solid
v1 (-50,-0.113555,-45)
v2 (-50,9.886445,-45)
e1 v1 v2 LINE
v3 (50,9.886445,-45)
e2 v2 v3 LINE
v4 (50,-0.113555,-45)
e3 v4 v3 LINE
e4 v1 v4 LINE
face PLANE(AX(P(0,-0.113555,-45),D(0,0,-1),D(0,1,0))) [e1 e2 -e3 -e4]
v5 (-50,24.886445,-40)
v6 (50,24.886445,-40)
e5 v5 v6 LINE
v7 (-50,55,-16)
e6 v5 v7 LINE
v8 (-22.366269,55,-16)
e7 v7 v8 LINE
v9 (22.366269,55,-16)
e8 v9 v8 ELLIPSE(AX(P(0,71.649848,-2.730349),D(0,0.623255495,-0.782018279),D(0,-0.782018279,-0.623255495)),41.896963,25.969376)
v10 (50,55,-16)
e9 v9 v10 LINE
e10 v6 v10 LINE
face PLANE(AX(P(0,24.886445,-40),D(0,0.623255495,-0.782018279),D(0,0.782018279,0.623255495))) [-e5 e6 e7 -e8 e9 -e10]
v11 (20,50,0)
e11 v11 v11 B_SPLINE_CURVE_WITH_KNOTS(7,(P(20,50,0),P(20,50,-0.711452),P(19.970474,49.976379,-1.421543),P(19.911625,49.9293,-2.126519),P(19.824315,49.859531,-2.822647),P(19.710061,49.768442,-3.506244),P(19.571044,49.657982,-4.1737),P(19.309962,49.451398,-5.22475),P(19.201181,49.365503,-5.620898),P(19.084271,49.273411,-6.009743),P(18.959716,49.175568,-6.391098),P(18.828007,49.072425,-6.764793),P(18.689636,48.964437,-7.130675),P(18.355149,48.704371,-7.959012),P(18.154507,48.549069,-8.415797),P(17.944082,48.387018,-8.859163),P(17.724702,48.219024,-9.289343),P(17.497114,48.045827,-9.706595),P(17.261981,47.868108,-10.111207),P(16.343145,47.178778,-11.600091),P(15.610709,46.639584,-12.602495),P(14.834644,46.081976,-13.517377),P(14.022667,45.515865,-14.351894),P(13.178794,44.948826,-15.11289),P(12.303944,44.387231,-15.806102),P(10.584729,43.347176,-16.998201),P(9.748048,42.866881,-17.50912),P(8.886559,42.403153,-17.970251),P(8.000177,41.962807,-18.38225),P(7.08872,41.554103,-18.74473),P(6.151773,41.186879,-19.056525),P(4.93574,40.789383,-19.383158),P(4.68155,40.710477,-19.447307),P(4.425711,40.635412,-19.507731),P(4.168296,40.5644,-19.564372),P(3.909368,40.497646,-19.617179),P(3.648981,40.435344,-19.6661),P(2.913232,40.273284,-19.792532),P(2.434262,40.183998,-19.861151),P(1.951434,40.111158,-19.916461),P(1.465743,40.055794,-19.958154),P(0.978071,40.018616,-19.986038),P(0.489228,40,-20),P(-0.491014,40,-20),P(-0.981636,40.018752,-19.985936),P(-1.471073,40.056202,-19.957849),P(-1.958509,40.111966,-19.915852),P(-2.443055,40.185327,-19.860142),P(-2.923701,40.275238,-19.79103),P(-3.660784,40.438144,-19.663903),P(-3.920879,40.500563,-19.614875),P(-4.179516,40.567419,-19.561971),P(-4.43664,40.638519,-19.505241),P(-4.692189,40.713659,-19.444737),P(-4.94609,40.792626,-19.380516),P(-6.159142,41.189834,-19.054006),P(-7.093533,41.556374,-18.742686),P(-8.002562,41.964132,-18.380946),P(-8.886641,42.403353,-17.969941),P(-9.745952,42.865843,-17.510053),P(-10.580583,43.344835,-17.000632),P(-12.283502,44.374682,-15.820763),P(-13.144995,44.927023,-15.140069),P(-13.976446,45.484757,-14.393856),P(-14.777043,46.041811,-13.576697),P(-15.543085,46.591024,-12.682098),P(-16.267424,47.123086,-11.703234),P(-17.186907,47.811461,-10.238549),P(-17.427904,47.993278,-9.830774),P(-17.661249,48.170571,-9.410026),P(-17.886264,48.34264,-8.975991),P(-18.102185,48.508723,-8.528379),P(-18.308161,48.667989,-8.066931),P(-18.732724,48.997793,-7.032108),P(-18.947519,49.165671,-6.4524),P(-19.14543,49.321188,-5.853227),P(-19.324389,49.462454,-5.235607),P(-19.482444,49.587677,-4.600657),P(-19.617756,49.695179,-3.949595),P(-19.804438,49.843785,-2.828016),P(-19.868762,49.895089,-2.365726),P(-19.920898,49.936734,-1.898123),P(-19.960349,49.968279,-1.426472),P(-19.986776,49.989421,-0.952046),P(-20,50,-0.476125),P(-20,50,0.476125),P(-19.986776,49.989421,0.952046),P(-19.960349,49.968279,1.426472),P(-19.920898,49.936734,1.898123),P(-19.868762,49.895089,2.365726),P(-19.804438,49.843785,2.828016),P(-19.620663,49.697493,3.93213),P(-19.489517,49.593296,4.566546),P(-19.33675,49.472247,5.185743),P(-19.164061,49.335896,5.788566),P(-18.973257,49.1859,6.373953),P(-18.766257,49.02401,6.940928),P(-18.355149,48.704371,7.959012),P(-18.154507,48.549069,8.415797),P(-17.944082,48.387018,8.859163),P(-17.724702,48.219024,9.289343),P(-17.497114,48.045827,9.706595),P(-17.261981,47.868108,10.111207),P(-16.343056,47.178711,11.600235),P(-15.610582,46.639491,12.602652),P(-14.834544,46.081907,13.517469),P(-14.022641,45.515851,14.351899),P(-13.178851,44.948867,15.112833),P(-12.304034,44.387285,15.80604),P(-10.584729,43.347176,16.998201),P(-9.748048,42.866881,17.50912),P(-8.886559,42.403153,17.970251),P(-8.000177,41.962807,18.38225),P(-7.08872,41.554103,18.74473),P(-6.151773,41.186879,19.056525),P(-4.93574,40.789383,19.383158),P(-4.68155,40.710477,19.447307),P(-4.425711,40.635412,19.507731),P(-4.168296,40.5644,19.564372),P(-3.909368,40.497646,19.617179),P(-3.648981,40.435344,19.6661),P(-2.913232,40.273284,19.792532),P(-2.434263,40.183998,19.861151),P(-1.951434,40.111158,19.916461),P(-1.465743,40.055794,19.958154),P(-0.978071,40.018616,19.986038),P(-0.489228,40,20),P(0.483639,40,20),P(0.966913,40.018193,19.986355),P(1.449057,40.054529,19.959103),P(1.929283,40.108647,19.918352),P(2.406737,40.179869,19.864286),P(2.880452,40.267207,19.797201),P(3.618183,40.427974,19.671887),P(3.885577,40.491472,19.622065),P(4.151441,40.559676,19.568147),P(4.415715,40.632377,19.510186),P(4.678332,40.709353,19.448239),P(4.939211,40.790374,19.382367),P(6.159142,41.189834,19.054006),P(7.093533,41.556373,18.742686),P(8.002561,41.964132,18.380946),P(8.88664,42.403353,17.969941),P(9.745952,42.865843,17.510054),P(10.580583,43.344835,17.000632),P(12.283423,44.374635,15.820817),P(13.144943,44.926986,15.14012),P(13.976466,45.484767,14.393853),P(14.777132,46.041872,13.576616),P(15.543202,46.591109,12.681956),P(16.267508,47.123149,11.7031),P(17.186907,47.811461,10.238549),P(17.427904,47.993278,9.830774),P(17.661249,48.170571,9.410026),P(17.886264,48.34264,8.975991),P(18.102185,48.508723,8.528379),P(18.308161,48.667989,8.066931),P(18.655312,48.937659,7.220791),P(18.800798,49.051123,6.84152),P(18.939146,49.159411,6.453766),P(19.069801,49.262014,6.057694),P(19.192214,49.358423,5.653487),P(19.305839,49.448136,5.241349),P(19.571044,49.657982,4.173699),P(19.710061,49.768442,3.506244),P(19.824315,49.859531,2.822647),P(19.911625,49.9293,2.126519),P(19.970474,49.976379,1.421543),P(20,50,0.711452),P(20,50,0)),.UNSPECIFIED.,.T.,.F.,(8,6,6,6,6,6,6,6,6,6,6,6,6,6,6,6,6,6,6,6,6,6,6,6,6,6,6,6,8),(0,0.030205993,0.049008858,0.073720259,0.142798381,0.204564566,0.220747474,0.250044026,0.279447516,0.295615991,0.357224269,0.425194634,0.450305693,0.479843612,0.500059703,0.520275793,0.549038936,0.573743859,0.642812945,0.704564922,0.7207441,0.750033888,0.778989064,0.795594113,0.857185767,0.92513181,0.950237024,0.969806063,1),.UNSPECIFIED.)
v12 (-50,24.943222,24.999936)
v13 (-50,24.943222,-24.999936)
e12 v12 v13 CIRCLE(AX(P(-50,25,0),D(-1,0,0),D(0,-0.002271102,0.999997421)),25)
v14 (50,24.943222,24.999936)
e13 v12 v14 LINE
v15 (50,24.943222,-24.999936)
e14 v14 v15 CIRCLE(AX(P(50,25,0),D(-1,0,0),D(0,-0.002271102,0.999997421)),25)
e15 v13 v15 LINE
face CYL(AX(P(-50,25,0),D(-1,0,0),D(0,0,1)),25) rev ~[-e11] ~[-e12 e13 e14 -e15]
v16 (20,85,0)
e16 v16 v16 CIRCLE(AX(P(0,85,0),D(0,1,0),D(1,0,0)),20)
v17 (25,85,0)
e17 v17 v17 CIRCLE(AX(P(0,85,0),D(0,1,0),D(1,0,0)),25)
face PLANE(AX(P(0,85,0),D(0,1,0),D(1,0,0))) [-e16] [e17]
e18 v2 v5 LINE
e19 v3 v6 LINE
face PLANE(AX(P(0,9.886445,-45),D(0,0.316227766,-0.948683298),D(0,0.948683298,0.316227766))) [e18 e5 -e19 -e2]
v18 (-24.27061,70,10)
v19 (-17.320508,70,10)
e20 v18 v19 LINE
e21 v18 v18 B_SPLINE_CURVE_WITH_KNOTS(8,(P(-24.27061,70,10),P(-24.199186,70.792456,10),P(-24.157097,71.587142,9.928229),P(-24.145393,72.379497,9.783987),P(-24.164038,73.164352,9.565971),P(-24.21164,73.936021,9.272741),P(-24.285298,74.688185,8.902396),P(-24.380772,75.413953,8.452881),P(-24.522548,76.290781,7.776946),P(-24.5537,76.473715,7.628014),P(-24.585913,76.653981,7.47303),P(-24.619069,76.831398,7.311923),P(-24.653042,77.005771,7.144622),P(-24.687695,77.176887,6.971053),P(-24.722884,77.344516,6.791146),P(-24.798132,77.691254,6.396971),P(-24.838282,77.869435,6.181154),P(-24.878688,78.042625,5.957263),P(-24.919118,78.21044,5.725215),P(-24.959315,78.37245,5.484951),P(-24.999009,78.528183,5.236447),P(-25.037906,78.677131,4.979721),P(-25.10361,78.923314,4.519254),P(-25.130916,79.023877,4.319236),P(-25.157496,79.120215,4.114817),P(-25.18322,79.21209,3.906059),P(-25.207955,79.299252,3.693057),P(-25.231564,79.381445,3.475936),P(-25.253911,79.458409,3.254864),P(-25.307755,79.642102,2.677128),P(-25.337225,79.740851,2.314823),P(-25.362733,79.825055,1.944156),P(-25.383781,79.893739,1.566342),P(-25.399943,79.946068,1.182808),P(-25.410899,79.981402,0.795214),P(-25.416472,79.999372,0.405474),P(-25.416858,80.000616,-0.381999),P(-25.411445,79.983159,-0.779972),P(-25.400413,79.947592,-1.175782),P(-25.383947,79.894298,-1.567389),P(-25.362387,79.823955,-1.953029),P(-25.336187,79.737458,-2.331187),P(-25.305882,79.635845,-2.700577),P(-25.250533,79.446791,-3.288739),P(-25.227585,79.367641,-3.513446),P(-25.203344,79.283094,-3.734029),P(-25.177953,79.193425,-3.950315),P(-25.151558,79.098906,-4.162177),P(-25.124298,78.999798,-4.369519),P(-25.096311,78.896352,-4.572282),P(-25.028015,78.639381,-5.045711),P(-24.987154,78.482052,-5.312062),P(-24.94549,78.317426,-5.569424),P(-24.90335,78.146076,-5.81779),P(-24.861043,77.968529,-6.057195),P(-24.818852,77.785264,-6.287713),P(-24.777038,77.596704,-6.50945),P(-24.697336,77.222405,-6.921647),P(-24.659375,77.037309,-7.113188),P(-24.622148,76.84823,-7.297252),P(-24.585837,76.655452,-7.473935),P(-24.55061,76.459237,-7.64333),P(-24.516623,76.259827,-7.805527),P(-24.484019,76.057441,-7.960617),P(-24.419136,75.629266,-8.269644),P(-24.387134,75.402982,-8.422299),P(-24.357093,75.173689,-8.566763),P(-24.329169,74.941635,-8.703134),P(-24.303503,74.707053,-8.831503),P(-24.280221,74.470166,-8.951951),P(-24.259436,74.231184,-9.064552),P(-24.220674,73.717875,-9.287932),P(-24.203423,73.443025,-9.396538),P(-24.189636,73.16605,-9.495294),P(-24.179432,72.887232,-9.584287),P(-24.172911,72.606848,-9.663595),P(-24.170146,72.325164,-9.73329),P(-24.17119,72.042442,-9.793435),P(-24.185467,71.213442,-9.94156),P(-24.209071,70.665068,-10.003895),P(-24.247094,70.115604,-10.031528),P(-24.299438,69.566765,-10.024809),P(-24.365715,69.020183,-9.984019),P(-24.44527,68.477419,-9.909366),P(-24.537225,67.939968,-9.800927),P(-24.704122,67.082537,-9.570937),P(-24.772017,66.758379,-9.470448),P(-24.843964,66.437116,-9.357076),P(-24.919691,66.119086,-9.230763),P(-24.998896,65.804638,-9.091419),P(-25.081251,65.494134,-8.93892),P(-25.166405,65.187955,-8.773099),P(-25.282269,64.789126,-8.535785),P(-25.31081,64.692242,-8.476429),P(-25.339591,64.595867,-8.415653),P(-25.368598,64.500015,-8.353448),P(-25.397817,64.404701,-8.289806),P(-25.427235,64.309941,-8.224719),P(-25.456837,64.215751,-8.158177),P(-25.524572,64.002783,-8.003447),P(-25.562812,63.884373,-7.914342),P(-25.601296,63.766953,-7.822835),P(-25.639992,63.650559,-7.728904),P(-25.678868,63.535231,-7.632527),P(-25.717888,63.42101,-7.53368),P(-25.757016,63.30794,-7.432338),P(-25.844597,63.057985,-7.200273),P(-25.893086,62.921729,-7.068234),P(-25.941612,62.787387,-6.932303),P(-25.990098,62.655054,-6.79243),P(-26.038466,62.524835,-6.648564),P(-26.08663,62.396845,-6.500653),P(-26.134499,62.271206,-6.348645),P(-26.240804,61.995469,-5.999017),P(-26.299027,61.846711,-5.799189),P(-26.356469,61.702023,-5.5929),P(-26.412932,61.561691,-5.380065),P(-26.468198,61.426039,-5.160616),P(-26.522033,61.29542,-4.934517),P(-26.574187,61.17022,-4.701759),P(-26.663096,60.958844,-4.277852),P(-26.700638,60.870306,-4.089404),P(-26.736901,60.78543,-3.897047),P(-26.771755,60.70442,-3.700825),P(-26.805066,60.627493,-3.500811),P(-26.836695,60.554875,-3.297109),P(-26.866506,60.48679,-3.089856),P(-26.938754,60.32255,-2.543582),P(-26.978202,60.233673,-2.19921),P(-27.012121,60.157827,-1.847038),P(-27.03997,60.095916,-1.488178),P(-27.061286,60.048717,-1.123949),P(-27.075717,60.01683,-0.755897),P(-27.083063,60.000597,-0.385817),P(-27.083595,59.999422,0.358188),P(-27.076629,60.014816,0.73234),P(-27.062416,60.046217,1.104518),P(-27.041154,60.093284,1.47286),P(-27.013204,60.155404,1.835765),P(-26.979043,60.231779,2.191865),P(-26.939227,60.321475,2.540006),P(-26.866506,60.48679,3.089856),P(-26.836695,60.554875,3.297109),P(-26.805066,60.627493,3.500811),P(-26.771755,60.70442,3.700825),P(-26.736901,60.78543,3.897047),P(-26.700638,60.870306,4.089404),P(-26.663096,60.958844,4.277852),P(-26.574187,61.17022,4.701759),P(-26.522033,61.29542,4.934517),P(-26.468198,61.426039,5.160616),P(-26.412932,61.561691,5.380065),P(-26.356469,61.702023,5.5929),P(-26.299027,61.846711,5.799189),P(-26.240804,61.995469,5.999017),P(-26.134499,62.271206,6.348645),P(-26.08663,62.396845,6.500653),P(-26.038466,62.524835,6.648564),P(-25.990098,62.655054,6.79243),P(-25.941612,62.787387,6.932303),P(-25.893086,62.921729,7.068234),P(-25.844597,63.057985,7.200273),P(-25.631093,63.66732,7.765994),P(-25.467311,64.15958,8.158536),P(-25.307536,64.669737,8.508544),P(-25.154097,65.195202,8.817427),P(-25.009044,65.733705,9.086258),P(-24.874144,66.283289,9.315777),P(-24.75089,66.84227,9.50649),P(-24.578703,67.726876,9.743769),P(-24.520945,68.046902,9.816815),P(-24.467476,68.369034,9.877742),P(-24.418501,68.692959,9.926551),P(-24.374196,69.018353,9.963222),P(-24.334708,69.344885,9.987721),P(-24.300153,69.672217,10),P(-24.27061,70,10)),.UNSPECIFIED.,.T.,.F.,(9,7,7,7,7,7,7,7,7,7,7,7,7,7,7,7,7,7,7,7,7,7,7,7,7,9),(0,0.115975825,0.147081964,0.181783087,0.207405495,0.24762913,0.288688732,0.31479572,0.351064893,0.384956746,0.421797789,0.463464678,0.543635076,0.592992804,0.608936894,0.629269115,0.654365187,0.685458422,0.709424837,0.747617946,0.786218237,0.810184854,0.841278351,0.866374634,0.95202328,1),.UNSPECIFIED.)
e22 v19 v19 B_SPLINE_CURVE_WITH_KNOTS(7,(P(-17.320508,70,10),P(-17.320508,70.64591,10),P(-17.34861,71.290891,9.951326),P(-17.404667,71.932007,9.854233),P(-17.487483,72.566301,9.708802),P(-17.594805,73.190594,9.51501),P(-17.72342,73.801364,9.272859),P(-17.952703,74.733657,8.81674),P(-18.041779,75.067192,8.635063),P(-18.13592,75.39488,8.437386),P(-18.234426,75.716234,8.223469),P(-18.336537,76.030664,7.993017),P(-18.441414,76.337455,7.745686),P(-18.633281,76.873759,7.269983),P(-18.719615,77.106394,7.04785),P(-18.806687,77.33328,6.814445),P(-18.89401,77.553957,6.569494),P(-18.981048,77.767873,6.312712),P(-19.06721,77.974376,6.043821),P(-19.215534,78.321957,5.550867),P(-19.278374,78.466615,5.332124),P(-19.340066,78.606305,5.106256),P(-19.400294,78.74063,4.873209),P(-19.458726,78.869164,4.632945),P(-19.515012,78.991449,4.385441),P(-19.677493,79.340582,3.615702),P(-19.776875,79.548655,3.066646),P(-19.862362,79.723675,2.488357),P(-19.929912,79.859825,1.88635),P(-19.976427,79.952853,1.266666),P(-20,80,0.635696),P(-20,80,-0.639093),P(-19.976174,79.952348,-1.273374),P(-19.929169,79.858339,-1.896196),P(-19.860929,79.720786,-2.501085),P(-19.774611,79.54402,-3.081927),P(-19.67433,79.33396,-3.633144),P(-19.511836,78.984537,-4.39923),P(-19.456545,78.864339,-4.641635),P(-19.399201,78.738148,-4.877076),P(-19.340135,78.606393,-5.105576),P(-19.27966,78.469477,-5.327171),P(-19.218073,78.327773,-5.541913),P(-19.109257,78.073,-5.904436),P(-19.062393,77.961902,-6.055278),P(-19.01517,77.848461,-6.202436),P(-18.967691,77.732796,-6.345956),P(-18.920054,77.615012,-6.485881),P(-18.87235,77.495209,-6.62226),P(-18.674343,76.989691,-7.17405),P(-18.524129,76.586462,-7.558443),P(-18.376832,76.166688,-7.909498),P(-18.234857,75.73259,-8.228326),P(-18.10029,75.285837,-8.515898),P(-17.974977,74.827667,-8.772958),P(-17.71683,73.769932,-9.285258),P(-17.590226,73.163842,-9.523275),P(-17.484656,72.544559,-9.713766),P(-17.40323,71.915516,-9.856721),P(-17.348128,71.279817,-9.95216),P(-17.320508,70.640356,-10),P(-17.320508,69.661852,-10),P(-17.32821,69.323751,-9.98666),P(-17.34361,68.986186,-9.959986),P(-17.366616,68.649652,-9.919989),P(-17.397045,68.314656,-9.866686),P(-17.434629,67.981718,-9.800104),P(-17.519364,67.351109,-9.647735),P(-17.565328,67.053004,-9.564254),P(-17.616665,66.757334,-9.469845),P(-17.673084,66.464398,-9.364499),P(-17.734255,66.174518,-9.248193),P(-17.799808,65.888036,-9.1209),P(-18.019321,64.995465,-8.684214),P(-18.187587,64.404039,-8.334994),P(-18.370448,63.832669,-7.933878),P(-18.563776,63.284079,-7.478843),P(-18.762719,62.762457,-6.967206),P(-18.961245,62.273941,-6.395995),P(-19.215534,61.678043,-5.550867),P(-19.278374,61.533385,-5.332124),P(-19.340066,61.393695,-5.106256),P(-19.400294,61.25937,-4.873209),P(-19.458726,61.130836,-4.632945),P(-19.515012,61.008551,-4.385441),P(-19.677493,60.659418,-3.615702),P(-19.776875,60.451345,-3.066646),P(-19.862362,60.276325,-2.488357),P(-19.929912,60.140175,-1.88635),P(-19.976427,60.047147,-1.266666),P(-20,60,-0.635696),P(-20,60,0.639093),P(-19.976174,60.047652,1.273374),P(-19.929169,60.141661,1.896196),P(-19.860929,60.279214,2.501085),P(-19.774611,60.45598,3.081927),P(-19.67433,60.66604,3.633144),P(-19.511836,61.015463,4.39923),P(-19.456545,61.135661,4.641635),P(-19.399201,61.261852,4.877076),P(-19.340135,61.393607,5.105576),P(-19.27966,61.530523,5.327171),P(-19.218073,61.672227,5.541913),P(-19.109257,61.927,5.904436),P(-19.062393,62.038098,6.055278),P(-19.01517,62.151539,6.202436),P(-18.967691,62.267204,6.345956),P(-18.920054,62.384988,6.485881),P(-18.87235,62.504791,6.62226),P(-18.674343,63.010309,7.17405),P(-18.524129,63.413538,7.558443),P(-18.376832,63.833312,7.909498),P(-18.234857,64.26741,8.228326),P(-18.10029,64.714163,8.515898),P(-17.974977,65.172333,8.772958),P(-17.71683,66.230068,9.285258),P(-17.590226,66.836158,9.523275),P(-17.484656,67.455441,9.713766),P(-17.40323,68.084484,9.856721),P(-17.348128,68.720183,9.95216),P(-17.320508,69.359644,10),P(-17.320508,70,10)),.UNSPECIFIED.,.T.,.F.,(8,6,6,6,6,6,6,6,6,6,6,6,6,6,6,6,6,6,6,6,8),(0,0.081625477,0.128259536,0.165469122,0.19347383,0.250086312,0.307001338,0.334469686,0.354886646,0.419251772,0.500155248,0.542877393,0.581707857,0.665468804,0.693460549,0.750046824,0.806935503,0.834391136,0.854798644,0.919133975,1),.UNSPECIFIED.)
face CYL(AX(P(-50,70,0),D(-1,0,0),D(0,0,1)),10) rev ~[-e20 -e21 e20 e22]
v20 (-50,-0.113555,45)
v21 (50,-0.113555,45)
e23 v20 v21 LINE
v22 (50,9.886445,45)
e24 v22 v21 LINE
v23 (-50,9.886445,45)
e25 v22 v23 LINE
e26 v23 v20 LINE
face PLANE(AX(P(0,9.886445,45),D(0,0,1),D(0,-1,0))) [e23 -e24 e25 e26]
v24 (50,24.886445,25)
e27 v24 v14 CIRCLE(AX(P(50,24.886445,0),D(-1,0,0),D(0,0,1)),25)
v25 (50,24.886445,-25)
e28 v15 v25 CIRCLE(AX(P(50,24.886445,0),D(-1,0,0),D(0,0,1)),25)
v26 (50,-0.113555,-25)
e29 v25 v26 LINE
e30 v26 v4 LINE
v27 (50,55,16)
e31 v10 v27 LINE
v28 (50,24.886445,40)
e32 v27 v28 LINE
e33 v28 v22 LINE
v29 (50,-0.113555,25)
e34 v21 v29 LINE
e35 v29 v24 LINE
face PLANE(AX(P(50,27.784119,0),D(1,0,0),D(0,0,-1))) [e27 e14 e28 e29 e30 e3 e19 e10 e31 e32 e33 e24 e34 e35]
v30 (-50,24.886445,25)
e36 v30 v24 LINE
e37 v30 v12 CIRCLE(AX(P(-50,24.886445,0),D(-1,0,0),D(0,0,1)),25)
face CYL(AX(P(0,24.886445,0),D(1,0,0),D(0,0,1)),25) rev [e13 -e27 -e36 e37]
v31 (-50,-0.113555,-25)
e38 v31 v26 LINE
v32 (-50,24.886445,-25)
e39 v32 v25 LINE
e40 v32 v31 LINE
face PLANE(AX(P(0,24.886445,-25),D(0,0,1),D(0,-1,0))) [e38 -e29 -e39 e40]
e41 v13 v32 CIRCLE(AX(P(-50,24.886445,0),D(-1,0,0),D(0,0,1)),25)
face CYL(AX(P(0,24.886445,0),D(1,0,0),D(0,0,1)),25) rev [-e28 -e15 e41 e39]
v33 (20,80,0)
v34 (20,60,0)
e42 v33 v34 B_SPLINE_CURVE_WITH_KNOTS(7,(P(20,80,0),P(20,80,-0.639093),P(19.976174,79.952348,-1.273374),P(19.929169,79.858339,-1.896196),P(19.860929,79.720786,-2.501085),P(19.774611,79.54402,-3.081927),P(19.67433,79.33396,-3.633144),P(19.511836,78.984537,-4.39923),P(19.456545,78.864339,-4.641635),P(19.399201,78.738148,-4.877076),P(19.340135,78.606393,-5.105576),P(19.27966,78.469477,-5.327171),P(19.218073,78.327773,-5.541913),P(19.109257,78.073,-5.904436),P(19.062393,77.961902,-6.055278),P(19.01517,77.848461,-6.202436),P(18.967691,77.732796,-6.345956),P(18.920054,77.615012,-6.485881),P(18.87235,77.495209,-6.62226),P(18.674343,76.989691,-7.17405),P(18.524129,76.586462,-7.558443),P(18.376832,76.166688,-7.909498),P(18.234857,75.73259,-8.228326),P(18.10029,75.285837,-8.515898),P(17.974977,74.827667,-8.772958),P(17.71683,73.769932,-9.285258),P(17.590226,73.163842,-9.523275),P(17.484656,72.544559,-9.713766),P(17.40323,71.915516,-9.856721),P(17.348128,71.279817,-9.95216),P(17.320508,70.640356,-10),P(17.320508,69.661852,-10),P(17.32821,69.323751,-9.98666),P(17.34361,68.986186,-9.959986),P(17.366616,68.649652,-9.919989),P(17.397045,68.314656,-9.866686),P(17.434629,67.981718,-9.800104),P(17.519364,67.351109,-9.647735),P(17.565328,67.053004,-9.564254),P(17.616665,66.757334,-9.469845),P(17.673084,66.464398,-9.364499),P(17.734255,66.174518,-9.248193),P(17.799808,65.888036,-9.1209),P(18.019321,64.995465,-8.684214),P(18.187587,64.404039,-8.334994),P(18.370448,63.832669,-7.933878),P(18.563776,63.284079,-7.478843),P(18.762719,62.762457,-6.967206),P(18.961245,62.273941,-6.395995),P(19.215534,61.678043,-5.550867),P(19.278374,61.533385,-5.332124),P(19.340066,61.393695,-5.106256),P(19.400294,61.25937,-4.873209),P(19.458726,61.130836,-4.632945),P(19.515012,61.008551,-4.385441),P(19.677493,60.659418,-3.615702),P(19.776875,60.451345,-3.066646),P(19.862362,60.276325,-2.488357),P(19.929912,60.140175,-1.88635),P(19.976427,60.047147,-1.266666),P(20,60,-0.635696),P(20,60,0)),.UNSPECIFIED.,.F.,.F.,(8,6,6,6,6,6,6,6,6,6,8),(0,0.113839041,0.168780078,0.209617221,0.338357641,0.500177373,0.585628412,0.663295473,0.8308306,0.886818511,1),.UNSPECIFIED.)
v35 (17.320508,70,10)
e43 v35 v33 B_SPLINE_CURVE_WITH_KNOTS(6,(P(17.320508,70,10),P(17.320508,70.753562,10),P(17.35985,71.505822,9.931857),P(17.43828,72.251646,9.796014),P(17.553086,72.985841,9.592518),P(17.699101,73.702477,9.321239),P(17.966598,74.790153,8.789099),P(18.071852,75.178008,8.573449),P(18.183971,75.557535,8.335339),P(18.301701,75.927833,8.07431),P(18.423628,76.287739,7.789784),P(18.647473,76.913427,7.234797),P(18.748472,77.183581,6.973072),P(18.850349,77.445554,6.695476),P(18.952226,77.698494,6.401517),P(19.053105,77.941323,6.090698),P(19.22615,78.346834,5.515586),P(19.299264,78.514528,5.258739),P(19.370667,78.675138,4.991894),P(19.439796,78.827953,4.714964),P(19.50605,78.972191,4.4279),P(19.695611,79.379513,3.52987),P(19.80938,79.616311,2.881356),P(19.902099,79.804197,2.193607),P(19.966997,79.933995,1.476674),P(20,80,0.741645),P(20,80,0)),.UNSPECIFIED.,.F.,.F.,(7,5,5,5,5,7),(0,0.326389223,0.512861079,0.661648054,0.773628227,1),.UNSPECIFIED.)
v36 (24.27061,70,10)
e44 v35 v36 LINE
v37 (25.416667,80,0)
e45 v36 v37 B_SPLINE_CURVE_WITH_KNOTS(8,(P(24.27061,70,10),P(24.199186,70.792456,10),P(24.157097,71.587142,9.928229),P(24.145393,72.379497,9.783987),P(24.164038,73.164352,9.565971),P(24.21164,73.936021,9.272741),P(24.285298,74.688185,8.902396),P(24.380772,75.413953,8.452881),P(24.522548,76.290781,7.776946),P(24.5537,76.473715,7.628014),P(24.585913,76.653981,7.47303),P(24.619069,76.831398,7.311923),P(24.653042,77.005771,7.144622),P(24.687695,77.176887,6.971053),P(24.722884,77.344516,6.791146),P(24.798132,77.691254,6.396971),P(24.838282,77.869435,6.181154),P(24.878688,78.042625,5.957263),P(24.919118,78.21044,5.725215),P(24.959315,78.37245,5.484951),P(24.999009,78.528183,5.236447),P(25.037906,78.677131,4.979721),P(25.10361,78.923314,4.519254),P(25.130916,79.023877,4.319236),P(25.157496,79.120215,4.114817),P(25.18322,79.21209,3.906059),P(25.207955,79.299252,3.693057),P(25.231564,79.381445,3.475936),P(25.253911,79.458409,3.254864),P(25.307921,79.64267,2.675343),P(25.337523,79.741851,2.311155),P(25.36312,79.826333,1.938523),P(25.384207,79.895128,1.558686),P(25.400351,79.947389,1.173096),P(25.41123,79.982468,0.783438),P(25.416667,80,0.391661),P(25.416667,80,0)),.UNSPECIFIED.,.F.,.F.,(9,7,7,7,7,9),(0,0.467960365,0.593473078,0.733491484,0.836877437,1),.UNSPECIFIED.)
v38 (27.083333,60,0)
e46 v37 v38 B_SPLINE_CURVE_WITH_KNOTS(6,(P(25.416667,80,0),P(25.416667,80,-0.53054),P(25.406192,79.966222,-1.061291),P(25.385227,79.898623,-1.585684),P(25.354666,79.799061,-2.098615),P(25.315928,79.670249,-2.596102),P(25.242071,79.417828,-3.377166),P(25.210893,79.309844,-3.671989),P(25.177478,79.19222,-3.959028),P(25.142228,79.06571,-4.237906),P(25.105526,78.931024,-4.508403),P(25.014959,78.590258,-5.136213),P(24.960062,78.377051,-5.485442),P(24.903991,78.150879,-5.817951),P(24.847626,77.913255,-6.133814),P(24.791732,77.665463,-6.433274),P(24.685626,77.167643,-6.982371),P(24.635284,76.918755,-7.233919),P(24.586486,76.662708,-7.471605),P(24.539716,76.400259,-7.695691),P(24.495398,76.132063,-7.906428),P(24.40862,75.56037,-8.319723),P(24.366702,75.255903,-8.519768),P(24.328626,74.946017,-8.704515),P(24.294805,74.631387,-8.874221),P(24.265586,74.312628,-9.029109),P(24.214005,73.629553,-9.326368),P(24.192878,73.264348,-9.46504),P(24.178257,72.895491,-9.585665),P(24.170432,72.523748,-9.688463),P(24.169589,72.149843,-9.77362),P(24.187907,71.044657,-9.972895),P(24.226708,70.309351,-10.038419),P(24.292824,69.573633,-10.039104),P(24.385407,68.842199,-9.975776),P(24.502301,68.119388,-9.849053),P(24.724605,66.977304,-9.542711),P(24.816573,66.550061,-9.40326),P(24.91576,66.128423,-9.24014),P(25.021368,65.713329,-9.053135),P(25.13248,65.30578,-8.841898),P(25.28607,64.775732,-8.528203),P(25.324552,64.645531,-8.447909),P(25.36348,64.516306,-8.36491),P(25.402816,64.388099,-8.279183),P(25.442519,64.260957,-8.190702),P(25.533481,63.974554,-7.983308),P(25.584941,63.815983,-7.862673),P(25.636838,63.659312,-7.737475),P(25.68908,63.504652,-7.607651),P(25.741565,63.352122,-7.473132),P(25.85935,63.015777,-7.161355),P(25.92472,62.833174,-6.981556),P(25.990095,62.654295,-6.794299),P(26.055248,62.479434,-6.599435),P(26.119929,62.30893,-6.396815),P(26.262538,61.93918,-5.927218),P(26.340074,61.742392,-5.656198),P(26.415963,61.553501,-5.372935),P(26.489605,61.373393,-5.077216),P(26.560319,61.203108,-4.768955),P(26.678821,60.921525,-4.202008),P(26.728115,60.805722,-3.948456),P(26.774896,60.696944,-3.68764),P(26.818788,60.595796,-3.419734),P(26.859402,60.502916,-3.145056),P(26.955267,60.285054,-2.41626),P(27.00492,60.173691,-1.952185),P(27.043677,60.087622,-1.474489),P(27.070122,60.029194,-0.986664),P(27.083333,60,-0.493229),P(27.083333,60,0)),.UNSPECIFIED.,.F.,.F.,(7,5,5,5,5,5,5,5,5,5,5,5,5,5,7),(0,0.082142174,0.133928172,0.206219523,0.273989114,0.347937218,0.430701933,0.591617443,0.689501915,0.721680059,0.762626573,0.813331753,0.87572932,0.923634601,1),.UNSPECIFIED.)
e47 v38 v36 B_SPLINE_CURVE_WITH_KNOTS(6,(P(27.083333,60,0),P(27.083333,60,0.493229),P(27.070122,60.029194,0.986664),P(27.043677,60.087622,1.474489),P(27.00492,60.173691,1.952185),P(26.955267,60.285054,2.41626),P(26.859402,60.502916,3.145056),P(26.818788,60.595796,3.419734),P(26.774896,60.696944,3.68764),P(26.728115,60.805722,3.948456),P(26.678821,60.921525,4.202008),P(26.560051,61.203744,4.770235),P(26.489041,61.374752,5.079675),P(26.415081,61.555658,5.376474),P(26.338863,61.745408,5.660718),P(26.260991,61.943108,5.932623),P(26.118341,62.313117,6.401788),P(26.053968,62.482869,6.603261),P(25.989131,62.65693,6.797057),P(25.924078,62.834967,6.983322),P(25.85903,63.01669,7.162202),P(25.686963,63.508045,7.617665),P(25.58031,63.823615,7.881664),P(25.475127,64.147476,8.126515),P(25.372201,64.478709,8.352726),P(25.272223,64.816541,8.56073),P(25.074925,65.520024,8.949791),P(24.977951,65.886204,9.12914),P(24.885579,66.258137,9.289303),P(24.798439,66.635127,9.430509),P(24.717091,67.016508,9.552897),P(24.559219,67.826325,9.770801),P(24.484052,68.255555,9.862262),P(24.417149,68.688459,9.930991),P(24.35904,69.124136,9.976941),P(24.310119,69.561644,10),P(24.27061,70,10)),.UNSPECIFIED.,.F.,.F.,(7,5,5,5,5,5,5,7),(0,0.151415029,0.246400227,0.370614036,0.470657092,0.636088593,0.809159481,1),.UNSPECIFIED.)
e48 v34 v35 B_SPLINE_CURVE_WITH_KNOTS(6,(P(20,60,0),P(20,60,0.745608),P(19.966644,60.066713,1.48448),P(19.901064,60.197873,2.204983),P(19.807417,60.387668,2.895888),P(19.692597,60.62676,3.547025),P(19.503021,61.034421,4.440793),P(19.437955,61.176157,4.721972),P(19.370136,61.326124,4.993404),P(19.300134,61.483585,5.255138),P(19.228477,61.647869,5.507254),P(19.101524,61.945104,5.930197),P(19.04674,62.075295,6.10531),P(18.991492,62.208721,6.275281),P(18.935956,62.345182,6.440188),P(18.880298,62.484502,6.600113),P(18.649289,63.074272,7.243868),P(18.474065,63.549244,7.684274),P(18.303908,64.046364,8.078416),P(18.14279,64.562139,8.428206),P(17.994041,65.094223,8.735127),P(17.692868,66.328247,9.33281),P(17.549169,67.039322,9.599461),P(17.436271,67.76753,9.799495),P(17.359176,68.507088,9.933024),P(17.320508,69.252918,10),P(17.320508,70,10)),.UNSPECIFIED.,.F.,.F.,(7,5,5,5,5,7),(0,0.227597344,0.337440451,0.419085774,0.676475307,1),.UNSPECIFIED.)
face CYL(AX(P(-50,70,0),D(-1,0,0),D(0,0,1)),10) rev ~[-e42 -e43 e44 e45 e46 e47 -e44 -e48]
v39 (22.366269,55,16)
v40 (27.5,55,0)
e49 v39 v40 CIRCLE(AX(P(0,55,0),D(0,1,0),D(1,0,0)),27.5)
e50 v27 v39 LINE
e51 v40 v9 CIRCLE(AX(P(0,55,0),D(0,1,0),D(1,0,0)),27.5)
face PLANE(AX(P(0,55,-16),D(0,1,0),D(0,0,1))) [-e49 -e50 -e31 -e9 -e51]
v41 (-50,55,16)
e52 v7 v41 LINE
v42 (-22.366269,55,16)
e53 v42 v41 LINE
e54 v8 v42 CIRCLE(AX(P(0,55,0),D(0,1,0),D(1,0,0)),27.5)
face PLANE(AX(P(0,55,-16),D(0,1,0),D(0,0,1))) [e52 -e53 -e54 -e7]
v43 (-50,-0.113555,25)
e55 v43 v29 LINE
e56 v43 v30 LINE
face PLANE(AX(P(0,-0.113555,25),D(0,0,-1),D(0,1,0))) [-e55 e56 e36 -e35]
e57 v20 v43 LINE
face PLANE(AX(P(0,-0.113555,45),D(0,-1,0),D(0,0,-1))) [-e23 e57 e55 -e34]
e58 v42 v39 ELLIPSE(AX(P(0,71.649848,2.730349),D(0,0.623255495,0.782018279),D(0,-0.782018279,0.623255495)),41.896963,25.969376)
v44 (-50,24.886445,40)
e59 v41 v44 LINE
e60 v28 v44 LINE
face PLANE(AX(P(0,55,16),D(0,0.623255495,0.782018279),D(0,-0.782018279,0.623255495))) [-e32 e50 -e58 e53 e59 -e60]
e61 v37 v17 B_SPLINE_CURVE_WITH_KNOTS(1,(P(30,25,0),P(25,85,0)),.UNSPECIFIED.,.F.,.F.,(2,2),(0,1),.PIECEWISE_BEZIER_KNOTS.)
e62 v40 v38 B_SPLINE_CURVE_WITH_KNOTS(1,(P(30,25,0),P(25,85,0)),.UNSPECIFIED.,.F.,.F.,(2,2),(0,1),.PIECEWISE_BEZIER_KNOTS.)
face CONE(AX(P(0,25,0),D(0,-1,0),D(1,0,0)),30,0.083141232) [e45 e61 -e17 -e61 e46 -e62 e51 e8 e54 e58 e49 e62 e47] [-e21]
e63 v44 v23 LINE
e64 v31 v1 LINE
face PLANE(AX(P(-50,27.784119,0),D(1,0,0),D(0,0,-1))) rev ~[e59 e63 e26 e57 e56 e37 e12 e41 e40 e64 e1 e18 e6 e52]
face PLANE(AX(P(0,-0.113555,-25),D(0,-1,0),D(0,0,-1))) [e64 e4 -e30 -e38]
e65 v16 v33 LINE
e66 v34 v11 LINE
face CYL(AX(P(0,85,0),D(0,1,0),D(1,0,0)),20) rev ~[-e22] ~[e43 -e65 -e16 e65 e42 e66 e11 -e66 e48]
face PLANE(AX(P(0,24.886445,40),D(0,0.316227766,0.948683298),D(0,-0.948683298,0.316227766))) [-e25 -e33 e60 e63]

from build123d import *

# Parameters (mm, degrees)
EXTRUDE_1_DEPTH      = 50
EXTRUDE_1_DEPTH_BACK = 50
SKETCH_3_R           = 30
SKETCH_5_R           = 25
SKETCH_6_R           = 25
SKETCH_6_R_2         = 10
CUT_EXTRUDE_1_DEPTH  = 100
SKETCH_7_R           = 20
CUT_EXTRUDE_2_DEPTH  = 100


with BuildPart() as part:
    # Эскиз1 → Бобышка-Вытянуть1 (new body, two sides)
    with BuildSketch(Plane(origin=(0, 0, 0), x_dir=(0, 0, -1), z_dir=(1, 0, 0))) as extrude_1_sk:
        with BuildLine():
            Line((-45, 9.886444909), (-45, -0.113555091))
            Line((-45, -0.113555091), (-25, -0.113555091))
            Line((-25, -0.113555091), (-25, 24.886444909))
            ThreePointArc((-25, 24.886444909), (0, 49.886444909), (25, 24.886444909))
            Line((25, 24.886444909), (25, -0.113555091))
            Line((25, -0.113555091), (45, -0.113555091))
            Line((45, -0.113555091), (45, 9.886444909))
            Line((45, 9.886444909), (40, 24.886444909))
            Line((40, 24.886444909), (16, 55))
            Line((16, 55), (-16, 55))
            Line((-16, 55), (-40, 24.886444909))
            Line((-40, 24.886444909), (-45, 9.886444909))
        make_face()
    extrude(amount=EXTRUDE_1_DEPTH)
    extrude(extrude_1_sk.sketch, amount=-EXTRUDE_1_DEPTH_BACK)

    # Эскиз3 → По сечениям1 section 0
    with BuildSketch(Plane(origin=(0, 25, 0), x_dir=(1, 0, 0), z_dir=(0, 1, 0))):
        Circle(SKETCH_3_R)
    # Эскиз5 → По сечениям1 section 1
    with BuildSketch(Plane(origin=(0, 85, 0), x_dir=(1, 0, 0), z_dir=(0, 1, 0))):
        Circle(SKETCH_5_R)
    loft()

    # Эскиз6 → Вырез-Вытянуть1 (cut)
    with BuildSketch(Plane.ZY.offset(50)):
        with Locations((0, 25)):
            Circle(SKETCH_6_R)
        with Locations((0, 70)):
            Circle(SKETCH_6_R_2)
    extrude(amount=-CUT_EXTRUDE_1_DEPTH, mode=Mode.SUBTRACT)

    # Эскиз7 → Вырез-Вытянуть2 (cut)
    with BuildSketch(Plane(origin=(0, 85, 0), x_dir=(1, 0, 0), z_dir=(0, 1, 0))):
        Circle(SKETCH_7_R)
    extrude(amount=-CUT_EXTRUDE_2_DEPTH, mode=Mode.SUBTRACT)


solid = part.part
